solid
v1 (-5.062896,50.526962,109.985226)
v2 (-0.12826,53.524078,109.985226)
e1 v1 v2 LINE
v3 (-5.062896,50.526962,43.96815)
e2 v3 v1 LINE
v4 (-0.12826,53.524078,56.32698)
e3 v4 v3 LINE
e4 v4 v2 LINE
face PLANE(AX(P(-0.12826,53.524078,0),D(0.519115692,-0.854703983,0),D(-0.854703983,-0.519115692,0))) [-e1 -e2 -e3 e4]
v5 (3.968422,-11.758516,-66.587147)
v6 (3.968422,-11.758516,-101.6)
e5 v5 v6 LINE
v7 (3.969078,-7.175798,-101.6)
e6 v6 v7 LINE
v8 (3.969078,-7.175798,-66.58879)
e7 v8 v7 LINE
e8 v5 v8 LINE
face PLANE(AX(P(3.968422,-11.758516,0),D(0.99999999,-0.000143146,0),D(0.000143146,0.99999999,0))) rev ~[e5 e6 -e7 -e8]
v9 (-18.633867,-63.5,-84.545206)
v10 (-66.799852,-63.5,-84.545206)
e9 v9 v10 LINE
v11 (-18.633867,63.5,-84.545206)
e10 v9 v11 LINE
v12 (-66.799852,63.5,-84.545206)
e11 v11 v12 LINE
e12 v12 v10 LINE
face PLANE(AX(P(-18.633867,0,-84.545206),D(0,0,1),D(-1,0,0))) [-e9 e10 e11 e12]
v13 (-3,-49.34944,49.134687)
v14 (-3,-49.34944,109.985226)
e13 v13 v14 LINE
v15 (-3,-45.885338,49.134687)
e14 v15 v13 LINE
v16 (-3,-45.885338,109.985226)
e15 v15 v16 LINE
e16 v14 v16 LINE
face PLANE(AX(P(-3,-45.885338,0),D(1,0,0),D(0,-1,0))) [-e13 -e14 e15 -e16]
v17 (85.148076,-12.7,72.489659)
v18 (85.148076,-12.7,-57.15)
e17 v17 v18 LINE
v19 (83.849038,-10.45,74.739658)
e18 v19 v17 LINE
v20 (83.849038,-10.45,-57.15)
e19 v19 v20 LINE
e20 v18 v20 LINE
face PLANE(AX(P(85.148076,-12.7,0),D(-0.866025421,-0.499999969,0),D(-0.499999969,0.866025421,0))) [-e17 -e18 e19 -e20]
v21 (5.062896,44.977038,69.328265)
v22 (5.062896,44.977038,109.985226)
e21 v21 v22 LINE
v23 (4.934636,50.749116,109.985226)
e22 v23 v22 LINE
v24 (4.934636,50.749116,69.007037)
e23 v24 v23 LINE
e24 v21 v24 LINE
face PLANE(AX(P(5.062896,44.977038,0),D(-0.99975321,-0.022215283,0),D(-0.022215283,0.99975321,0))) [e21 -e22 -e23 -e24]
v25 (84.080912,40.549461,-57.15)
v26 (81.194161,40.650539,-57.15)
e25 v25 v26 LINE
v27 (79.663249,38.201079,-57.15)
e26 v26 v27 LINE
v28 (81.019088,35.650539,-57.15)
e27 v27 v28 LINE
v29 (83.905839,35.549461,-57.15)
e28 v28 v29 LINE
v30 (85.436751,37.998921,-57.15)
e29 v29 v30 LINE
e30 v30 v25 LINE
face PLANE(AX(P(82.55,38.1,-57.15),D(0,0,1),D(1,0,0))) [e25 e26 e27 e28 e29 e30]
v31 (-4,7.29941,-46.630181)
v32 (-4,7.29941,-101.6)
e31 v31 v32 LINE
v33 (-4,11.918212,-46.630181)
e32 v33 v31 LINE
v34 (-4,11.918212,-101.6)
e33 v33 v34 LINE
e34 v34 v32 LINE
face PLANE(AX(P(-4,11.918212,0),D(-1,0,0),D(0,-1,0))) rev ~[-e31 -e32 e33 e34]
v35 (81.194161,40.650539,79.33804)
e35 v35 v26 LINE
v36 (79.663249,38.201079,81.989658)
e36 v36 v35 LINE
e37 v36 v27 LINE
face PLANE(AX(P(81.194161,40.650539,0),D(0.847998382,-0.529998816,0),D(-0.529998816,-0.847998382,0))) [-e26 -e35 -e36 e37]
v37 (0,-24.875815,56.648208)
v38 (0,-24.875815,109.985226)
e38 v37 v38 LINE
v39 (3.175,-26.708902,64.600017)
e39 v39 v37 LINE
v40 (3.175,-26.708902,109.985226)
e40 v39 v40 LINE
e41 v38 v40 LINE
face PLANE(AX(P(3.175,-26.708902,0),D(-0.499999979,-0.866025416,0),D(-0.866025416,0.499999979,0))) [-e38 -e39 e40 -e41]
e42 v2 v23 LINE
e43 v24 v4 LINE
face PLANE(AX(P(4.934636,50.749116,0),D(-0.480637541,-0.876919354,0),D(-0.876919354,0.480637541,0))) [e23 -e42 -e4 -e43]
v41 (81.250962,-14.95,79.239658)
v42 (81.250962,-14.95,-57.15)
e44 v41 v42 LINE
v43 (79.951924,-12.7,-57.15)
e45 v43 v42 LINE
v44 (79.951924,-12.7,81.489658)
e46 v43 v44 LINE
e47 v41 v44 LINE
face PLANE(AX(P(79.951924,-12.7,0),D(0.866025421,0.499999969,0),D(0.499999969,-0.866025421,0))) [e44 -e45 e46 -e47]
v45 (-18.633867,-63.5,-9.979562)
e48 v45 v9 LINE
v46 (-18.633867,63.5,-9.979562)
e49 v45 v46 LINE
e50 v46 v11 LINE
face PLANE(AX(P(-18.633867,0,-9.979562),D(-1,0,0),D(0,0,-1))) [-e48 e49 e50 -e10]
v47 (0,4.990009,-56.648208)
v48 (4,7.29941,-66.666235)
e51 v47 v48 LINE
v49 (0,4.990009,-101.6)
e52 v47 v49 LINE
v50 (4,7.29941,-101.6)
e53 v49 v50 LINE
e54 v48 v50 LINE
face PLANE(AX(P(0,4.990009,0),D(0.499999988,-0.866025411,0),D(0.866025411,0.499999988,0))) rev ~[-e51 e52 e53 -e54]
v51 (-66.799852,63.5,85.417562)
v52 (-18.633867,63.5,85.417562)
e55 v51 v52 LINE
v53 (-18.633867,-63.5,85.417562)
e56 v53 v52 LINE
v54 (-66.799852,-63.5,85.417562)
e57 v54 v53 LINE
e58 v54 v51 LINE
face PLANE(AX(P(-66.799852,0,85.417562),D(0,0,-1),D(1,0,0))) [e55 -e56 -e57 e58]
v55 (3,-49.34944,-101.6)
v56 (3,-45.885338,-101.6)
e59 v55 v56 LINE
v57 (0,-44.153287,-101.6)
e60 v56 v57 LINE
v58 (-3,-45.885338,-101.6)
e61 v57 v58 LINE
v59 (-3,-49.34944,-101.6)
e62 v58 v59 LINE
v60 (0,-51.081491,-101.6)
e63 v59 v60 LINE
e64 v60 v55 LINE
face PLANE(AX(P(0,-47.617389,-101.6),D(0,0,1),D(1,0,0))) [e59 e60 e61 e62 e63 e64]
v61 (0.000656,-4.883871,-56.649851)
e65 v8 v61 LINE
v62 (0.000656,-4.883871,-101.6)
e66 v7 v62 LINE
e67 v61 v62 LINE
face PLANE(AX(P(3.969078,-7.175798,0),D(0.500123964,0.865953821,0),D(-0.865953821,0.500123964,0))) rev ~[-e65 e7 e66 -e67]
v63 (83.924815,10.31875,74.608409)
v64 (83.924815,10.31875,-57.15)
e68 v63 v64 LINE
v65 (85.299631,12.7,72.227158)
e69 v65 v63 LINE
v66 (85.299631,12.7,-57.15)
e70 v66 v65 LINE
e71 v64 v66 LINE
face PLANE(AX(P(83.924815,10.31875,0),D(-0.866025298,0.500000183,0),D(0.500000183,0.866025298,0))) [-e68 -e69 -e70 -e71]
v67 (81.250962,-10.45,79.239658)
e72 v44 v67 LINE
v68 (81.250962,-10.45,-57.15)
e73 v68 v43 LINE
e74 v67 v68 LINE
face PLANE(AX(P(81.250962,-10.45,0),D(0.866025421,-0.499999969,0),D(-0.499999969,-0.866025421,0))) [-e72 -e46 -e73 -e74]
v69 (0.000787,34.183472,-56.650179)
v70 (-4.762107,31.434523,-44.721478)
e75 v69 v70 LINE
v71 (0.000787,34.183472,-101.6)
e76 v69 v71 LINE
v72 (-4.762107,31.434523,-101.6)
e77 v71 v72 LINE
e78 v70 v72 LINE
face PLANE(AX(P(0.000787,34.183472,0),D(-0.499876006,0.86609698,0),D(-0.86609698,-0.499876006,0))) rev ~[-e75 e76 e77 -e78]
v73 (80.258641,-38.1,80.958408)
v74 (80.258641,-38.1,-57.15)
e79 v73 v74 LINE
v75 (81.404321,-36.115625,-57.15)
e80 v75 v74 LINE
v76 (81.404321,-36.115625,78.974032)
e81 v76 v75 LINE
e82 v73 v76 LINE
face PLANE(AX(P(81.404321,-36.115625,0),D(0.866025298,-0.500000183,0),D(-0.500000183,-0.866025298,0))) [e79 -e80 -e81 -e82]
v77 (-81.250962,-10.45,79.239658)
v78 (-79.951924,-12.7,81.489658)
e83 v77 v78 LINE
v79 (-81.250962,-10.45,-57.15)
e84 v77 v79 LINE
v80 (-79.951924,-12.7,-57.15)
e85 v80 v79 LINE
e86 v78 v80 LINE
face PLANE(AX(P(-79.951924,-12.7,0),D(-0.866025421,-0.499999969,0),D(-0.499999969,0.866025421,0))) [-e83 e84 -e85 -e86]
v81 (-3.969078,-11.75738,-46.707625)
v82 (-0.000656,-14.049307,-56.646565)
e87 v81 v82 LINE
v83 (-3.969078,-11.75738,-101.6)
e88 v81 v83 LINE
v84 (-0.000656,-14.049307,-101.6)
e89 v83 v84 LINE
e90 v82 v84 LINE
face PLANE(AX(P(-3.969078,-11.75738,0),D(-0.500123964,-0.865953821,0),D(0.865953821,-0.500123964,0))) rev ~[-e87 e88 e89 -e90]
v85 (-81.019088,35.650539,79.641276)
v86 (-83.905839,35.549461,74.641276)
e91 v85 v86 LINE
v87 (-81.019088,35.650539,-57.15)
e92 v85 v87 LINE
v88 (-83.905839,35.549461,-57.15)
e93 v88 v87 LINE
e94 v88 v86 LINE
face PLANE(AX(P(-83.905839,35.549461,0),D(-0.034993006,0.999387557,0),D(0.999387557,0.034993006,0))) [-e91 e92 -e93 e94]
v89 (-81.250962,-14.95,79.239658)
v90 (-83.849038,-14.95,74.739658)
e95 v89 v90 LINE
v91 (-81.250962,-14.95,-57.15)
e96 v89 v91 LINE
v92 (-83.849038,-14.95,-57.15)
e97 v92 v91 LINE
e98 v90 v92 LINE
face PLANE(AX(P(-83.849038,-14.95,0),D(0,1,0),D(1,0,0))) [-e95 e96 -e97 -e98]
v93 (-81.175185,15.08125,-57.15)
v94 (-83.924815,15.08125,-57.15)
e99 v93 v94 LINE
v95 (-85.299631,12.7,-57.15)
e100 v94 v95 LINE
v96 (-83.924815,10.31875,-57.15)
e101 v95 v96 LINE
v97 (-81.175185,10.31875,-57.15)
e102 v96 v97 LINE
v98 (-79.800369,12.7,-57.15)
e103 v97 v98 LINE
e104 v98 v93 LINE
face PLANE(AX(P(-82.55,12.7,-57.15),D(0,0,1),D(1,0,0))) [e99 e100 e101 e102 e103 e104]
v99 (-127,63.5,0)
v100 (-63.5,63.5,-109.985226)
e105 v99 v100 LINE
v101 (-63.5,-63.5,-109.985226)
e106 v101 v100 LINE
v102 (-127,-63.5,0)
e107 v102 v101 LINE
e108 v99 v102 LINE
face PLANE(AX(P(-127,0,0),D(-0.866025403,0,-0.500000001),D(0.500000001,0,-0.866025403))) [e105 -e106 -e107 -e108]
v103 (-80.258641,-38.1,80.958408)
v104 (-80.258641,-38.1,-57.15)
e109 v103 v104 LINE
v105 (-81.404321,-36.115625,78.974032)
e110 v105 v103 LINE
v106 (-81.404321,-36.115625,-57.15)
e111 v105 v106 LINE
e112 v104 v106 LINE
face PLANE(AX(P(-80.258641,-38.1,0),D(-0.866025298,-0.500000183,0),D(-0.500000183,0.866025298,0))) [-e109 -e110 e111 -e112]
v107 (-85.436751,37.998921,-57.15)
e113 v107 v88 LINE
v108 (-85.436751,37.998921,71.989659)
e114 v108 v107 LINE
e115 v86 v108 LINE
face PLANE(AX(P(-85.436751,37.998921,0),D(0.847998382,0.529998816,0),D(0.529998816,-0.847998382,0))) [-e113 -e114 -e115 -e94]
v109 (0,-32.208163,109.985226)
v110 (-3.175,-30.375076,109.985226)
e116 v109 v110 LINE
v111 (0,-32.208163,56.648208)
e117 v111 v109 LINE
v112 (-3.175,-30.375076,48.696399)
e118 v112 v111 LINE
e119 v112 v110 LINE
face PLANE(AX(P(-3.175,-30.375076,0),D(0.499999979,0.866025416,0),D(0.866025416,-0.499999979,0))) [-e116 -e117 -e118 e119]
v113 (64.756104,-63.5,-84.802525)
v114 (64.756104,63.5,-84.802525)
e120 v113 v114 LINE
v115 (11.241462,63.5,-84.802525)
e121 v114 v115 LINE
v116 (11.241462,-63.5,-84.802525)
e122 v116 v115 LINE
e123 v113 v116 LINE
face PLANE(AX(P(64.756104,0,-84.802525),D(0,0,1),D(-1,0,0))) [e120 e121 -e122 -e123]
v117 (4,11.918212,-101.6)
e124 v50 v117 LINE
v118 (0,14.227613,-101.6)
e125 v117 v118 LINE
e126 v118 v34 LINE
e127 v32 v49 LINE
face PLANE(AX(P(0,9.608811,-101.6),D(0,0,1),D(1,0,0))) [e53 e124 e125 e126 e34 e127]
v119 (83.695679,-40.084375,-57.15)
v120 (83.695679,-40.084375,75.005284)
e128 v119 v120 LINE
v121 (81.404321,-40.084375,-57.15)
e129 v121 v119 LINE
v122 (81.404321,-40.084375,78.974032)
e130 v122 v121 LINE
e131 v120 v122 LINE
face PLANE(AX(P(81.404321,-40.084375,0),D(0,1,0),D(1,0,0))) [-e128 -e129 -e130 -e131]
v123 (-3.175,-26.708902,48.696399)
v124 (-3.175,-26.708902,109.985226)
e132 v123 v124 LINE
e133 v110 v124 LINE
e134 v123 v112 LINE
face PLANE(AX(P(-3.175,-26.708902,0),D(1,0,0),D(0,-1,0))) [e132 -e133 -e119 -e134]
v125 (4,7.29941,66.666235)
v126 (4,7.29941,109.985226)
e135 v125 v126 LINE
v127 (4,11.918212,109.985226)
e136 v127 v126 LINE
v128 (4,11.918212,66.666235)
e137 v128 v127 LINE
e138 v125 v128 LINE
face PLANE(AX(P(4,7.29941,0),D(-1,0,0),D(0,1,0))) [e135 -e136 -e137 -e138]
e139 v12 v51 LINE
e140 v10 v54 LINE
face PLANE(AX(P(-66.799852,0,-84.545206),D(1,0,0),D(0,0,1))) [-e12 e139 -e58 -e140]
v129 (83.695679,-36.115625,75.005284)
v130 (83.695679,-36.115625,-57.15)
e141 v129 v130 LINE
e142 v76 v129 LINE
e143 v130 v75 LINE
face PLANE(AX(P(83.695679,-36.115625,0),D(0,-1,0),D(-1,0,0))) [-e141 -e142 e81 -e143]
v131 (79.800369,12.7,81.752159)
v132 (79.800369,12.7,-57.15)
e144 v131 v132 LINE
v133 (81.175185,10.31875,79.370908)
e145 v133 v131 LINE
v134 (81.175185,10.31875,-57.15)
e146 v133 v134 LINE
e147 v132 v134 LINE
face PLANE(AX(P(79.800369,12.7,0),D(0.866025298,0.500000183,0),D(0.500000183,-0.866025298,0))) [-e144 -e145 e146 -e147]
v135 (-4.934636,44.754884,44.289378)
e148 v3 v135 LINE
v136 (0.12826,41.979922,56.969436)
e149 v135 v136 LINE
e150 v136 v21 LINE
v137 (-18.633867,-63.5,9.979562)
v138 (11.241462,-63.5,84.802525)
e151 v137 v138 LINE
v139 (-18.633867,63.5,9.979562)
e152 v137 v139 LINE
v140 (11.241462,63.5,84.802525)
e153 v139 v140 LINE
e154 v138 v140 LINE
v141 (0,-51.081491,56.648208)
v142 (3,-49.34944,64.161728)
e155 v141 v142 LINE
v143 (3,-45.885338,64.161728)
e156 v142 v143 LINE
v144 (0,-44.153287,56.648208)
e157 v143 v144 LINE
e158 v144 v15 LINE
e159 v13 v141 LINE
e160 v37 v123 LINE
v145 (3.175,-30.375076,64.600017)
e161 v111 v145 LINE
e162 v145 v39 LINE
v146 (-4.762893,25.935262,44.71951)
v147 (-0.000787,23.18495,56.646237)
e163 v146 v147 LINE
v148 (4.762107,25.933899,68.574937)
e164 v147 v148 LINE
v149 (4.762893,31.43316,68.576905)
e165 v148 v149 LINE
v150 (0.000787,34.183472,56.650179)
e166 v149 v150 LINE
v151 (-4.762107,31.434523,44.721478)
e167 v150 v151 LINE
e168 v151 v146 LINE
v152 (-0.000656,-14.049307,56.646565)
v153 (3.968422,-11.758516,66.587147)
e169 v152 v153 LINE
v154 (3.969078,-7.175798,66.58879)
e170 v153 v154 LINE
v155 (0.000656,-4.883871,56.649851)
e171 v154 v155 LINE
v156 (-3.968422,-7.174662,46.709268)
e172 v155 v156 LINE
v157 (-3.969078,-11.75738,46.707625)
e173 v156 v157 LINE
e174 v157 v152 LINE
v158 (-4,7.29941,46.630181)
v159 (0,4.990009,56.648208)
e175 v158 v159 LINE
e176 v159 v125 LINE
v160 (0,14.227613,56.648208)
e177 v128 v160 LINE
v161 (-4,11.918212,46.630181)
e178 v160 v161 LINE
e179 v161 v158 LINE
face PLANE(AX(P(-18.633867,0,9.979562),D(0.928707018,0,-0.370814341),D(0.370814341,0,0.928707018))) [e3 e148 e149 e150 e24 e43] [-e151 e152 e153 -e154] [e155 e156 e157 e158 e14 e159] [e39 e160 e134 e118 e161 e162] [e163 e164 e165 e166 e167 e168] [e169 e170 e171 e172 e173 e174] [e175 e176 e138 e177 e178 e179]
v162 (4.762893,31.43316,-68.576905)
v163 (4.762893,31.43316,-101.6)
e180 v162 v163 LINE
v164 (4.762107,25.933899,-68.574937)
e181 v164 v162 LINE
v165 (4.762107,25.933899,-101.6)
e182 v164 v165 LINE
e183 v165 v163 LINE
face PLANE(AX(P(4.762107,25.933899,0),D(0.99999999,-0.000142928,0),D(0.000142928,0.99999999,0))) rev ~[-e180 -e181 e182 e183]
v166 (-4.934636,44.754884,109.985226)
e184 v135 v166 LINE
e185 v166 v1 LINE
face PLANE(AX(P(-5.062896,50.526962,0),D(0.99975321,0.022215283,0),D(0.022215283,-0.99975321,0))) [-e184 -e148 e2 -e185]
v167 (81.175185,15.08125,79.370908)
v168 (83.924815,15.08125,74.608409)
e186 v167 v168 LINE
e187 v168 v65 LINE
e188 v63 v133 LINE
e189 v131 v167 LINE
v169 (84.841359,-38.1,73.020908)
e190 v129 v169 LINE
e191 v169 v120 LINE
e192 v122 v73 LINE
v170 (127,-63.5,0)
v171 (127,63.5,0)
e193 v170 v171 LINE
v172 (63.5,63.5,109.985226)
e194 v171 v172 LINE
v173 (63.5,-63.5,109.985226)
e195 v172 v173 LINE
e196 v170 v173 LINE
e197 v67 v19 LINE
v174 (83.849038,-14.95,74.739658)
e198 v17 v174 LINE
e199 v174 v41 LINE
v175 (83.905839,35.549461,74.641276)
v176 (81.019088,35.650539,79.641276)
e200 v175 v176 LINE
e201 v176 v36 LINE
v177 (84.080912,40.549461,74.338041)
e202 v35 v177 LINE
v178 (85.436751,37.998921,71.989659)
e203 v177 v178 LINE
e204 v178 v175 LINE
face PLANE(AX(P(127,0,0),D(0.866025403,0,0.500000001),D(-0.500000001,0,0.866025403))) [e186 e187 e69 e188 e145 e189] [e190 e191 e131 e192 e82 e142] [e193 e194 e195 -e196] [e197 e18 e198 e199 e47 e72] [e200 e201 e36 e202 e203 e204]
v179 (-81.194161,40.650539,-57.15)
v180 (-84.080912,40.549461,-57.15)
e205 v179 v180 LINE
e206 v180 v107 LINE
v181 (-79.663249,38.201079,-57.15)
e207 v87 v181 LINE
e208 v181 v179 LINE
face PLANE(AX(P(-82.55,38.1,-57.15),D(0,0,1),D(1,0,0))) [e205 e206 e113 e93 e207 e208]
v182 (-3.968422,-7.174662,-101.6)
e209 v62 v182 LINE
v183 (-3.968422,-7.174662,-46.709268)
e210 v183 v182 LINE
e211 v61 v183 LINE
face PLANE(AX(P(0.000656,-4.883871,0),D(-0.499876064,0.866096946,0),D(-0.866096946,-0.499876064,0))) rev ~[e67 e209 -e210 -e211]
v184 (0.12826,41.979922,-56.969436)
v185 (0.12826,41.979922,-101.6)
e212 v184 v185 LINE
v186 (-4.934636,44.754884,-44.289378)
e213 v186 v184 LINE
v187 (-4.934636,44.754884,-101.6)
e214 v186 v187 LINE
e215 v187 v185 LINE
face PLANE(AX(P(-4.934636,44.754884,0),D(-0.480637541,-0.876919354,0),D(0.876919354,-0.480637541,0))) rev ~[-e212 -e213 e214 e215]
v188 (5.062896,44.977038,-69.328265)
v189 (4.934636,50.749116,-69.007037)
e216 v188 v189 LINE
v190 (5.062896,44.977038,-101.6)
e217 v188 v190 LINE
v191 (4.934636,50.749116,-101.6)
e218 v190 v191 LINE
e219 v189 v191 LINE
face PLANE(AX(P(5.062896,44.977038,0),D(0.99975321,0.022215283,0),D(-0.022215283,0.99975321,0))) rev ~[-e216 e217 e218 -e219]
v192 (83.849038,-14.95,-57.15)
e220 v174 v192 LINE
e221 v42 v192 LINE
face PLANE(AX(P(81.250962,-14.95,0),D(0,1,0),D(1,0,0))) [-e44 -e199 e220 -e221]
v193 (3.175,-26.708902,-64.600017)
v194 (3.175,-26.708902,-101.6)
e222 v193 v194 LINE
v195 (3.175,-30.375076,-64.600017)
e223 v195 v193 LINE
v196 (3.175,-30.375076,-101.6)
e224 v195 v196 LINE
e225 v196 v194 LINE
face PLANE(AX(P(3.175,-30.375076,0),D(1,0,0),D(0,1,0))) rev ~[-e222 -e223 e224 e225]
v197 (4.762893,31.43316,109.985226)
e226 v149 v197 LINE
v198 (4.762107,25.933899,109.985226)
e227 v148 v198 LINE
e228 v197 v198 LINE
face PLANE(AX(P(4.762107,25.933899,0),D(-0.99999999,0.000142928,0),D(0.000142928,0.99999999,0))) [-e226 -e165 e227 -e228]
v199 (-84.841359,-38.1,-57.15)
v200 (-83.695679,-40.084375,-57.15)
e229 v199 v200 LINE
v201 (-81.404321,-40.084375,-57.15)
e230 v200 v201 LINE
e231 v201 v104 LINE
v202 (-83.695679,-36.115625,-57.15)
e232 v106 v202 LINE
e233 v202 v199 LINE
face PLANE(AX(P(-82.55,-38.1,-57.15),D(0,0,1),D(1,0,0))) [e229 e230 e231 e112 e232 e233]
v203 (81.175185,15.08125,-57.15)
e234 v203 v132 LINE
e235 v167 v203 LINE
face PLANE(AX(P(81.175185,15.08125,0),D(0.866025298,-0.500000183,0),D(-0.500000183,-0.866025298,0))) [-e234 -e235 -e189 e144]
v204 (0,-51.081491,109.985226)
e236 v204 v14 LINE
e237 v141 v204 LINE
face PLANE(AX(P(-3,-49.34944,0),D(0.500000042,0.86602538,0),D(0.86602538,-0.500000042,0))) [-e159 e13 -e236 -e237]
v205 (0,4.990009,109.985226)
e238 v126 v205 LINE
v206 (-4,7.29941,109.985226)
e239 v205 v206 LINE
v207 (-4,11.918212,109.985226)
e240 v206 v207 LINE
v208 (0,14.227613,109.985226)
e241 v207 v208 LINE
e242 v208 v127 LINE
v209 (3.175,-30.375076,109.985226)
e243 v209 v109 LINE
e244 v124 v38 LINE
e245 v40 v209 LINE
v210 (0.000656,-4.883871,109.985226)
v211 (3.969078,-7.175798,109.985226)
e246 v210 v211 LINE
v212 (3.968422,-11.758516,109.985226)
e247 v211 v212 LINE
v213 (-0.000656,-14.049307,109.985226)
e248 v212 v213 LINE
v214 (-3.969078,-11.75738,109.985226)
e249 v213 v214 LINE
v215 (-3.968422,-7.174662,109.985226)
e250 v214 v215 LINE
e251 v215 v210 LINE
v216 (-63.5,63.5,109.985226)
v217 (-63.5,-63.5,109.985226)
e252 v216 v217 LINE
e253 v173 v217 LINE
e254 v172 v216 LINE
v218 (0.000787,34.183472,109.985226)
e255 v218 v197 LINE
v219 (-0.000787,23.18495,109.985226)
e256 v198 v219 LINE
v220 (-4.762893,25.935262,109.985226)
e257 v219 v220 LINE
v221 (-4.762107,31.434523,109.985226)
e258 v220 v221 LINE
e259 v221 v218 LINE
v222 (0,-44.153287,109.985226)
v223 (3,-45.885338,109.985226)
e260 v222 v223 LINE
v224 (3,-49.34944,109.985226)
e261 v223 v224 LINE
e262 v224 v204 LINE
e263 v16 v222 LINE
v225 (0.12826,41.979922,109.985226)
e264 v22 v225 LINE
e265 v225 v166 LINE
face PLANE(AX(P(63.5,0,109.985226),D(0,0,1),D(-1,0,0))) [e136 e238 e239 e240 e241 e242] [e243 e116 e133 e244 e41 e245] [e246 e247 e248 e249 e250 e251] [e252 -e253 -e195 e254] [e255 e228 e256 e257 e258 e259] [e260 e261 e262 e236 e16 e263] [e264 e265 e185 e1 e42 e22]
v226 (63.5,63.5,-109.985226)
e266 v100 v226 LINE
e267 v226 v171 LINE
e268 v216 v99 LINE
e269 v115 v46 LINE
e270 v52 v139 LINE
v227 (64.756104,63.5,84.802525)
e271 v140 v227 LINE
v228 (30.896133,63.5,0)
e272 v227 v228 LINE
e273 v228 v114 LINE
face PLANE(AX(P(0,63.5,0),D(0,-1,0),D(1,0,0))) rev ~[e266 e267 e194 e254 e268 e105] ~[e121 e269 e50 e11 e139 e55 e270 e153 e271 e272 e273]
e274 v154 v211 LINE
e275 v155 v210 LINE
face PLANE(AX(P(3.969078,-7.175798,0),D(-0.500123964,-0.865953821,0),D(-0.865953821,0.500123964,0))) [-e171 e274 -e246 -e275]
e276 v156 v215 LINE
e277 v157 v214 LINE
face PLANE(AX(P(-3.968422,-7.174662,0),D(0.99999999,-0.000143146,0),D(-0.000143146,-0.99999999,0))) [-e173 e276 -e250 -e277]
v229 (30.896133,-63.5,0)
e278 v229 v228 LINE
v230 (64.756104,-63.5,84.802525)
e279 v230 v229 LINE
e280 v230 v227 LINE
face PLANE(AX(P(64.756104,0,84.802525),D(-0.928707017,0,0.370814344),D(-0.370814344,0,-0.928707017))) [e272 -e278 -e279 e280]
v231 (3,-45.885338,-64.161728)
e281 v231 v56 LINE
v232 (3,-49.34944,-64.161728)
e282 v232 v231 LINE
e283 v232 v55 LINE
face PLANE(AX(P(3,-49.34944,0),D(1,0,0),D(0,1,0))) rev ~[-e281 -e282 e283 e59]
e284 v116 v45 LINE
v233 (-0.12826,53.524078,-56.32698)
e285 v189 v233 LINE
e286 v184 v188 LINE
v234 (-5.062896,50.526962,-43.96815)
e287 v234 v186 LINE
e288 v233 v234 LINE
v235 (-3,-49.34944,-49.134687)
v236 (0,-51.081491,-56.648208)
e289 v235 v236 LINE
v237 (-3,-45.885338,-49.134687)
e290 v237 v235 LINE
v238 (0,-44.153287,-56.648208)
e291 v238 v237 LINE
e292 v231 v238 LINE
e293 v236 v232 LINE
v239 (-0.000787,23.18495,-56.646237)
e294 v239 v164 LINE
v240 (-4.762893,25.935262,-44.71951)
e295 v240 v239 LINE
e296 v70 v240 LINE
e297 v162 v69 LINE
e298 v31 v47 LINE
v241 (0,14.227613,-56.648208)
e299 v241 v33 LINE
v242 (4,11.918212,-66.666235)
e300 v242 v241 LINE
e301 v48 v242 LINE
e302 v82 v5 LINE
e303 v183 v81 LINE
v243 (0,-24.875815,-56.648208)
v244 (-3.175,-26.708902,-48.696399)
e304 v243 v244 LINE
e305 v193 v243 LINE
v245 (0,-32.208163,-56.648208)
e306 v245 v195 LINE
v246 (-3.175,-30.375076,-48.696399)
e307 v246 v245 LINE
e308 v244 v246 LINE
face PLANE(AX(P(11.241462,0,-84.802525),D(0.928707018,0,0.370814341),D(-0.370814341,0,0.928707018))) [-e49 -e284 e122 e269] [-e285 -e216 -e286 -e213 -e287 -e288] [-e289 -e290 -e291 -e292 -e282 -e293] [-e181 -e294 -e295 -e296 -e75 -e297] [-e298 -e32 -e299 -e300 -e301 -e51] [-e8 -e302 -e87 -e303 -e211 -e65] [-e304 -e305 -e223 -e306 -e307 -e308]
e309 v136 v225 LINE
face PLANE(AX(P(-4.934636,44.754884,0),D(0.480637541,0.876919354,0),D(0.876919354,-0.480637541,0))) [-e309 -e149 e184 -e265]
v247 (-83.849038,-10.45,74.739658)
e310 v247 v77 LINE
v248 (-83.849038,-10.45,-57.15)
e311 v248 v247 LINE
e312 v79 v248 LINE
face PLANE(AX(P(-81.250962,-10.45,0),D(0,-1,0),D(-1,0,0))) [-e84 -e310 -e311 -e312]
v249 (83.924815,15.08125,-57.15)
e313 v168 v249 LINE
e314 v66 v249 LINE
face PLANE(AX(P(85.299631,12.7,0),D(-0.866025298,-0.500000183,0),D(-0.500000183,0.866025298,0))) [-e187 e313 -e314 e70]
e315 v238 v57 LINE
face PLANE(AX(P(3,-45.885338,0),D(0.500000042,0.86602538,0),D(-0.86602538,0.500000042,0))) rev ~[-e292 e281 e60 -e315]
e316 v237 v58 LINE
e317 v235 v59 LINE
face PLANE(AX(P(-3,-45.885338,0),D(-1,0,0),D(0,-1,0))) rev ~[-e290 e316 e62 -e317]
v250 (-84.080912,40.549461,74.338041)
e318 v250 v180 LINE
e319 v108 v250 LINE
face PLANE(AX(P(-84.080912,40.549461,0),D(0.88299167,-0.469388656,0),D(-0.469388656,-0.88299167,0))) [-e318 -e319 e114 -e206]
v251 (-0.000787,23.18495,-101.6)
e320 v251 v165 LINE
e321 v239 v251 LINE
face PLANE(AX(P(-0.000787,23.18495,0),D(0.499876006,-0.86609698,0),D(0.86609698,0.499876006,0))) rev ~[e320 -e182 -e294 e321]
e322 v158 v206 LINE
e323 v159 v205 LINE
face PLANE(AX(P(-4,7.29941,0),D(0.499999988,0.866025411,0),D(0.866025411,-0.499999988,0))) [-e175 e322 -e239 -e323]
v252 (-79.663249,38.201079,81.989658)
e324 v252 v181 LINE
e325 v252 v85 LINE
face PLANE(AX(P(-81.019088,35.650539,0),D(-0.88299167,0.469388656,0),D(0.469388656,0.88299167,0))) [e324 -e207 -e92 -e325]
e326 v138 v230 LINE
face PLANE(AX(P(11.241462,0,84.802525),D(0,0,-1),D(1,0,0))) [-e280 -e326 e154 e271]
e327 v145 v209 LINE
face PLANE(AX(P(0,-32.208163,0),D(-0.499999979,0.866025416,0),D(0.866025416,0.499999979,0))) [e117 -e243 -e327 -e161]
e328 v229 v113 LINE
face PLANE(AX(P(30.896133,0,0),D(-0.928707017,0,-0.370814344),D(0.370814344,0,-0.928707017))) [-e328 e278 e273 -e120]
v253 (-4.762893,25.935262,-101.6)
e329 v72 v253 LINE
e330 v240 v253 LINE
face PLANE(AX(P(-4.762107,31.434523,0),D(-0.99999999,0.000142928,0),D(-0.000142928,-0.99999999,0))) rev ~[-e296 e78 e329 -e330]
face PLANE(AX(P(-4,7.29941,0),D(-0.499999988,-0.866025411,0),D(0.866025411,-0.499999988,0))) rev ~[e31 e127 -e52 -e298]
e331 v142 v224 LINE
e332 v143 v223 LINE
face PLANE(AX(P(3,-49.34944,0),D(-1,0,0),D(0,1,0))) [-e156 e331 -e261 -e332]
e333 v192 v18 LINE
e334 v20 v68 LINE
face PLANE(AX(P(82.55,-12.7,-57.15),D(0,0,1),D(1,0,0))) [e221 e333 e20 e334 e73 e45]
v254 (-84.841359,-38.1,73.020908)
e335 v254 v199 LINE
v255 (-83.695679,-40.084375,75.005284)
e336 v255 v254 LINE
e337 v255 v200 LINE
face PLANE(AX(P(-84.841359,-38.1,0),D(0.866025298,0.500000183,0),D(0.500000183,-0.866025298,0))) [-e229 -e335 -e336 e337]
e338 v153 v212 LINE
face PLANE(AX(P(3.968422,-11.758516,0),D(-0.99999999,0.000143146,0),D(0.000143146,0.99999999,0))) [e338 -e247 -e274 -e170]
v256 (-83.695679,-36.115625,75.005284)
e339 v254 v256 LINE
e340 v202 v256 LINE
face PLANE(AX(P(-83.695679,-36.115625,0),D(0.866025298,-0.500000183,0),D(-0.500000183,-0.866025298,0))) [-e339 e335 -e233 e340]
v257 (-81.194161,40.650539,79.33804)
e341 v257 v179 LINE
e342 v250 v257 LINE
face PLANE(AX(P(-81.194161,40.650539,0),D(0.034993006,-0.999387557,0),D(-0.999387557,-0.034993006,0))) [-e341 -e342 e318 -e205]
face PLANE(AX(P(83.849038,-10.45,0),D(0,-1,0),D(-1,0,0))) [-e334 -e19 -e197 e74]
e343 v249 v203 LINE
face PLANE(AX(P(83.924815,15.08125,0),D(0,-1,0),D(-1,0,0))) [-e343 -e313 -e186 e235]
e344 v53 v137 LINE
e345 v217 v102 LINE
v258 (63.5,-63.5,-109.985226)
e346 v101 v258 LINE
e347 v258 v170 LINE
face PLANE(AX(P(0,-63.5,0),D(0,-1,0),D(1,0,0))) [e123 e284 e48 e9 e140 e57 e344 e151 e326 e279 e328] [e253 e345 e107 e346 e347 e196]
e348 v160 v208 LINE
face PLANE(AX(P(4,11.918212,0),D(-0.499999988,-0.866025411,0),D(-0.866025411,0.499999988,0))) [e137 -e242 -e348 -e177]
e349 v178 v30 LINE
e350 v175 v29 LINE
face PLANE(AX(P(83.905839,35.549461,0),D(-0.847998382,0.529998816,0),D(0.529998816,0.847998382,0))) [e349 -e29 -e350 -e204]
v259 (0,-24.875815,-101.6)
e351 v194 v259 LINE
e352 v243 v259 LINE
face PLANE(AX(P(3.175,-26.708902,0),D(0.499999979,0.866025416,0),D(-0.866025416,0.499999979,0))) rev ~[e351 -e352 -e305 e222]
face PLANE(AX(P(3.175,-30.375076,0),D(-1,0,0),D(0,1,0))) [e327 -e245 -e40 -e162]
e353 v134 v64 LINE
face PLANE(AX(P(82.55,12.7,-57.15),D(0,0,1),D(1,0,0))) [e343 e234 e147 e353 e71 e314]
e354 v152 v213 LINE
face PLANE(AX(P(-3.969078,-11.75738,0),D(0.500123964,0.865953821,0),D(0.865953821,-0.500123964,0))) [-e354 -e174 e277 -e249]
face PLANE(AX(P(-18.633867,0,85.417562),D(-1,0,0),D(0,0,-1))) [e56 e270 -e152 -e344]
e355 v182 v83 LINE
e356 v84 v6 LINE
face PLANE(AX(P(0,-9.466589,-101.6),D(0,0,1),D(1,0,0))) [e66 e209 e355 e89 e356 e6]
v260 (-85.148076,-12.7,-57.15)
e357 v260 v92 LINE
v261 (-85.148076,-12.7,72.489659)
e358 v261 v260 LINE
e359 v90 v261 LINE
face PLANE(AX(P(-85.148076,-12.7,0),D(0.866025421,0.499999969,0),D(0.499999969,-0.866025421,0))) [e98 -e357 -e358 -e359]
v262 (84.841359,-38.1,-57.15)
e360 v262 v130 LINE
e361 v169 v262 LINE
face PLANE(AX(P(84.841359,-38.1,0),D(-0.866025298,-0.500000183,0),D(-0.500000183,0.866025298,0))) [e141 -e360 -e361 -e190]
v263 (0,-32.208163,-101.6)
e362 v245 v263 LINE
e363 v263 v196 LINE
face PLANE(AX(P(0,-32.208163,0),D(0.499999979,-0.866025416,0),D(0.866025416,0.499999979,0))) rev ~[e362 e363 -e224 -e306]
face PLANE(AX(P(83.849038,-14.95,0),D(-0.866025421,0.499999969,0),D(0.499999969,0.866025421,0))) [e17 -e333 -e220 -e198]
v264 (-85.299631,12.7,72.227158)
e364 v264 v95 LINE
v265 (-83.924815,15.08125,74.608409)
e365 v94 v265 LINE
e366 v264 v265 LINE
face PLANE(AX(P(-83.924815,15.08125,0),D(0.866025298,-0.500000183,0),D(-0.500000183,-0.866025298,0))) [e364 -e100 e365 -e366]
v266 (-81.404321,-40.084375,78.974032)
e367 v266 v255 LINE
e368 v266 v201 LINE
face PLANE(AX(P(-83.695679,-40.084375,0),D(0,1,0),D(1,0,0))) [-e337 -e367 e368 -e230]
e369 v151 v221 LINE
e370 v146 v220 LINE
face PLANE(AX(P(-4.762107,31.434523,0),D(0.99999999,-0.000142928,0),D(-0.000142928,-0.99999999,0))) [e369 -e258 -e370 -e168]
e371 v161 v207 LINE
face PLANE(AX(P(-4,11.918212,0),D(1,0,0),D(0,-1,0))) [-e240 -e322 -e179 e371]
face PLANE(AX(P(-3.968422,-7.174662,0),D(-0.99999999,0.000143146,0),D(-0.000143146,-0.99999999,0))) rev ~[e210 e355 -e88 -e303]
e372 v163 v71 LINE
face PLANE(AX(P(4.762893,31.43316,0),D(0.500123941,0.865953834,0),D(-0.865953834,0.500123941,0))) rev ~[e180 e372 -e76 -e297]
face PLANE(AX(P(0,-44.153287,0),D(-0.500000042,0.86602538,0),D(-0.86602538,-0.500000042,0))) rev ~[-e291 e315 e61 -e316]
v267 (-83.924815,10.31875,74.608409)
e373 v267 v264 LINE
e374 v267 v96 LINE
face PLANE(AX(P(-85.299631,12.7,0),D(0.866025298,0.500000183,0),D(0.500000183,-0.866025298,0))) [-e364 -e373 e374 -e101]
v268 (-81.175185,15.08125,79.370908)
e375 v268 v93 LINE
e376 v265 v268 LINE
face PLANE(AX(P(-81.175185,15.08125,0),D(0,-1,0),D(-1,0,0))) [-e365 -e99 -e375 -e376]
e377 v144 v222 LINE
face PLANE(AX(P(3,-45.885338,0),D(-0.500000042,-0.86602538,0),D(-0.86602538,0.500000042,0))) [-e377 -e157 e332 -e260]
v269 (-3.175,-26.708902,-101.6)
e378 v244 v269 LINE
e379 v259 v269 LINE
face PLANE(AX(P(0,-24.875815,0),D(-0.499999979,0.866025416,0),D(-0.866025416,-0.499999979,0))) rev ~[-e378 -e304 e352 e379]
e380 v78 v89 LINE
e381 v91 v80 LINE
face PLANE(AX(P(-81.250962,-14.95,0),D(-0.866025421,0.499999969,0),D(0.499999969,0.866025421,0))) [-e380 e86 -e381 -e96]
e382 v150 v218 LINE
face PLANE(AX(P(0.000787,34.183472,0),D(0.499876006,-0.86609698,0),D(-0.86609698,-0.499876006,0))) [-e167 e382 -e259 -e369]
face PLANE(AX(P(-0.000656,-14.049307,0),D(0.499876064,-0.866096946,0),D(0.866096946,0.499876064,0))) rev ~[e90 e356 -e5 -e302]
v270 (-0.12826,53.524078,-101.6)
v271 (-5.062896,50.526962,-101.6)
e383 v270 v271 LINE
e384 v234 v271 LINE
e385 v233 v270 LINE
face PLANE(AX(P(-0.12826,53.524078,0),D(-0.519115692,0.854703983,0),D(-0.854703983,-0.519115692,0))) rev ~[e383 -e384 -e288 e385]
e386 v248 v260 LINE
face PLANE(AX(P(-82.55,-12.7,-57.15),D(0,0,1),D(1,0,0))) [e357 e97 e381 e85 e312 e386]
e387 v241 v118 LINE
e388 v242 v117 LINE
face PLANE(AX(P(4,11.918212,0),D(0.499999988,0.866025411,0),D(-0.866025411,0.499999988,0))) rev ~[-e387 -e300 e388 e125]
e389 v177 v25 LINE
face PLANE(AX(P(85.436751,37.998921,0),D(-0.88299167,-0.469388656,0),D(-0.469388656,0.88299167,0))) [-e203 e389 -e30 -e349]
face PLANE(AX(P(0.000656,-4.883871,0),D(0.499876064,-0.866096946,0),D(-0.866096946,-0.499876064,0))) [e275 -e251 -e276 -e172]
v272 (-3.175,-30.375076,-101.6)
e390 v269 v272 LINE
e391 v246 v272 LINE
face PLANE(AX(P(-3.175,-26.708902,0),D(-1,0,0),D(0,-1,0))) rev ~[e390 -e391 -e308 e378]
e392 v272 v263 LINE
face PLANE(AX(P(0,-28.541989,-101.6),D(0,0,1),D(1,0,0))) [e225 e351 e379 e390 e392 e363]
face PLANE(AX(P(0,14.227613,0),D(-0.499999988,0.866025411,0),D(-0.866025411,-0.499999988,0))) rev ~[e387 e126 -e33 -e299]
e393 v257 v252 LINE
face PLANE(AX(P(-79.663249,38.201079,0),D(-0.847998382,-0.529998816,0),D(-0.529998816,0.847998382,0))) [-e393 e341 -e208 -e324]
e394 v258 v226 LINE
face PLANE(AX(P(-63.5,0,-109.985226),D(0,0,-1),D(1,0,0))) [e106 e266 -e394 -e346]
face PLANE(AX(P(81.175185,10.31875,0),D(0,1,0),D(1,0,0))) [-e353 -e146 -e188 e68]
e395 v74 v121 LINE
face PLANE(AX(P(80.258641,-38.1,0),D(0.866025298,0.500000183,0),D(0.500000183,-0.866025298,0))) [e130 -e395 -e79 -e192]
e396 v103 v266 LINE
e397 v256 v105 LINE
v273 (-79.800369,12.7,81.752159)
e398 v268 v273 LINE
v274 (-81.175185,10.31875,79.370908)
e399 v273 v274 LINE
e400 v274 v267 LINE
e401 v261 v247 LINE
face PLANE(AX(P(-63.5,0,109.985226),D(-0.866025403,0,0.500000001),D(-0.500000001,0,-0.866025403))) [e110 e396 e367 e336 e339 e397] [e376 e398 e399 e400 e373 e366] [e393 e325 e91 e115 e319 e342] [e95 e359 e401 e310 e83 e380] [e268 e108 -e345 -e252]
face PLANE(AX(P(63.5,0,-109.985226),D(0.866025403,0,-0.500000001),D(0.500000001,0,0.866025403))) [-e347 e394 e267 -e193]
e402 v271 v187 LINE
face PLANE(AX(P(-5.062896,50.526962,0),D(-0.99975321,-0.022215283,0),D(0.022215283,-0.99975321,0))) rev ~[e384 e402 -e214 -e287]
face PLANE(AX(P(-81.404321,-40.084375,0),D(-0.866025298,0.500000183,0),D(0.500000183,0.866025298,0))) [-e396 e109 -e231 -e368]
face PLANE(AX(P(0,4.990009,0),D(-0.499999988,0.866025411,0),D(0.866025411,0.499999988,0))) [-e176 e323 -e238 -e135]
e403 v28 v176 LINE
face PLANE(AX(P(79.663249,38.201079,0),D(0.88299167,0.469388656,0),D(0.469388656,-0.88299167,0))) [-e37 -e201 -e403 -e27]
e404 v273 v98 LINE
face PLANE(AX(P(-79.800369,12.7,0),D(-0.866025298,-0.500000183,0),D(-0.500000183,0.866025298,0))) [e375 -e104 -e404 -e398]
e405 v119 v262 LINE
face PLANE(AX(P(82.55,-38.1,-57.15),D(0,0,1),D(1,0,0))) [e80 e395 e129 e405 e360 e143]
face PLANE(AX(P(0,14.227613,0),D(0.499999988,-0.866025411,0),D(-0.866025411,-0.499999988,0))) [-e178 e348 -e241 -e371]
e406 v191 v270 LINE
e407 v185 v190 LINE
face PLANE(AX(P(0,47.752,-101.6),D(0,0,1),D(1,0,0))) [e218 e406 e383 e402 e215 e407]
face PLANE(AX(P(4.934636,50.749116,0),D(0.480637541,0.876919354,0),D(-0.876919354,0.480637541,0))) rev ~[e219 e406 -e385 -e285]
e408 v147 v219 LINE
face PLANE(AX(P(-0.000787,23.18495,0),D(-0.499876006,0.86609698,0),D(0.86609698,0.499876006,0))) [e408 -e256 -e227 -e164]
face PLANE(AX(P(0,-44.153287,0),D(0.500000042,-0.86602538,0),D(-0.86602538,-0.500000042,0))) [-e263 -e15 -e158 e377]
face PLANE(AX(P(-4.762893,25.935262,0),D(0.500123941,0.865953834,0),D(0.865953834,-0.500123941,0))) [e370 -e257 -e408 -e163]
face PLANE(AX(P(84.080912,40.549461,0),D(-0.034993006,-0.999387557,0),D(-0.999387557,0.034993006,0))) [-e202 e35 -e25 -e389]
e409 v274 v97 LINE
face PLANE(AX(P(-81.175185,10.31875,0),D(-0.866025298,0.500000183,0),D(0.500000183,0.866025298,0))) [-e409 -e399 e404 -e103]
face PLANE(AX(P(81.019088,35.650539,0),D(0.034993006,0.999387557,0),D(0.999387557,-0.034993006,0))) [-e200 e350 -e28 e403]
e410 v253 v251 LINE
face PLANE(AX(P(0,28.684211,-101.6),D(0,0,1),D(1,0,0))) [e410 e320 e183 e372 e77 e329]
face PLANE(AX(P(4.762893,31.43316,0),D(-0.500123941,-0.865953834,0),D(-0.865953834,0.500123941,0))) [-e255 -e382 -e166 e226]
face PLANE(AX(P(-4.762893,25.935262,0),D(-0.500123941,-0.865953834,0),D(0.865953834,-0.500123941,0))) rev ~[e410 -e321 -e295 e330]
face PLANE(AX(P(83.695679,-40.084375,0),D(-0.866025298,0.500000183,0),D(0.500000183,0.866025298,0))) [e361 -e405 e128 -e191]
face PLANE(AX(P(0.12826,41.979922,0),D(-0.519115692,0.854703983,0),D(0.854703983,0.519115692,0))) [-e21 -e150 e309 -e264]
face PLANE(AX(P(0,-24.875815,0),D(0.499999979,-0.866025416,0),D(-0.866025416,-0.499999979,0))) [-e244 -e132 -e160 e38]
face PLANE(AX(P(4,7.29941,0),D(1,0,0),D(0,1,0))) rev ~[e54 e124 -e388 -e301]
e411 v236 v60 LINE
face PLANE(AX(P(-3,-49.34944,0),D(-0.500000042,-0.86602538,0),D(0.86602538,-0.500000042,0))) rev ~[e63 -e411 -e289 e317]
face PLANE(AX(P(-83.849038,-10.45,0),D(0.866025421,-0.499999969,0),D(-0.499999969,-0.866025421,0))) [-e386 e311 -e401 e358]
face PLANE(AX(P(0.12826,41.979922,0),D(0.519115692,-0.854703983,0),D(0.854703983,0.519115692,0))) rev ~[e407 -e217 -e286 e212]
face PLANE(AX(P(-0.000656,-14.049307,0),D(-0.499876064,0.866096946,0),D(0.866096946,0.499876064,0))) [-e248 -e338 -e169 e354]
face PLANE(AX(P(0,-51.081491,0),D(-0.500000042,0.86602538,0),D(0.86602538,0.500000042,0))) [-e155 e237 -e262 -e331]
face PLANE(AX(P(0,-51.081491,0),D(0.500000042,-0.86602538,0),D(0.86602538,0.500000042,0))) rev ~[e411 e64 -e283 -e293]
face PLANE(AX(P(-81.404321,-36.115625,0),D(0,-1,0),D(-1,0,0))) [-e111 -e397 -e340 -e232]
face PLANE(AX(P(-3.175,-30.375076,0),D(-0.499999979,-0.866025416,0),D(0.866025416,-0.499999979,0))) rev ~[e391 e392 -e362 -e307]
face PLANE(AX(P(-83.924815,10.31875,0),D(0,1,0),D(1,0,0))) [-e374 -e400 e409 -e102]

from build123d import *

# Parameters (mm, degrees)
F1_DEPTH = 63.5
F3_DEPTH = 57.15
F4_DEPTH = 127
F5_DEPTH = 101.6


with BuildPart() as f1:
    # F0 (on Front) → F1 (new body, symmetric)
    with BuildSketch(Plane.XZ):
        Polygon((127, 0), (63.5, 109.985226), (-63.5, 109.985226), (-127, 0), (-63.5, -109.985226), (63.5, -109.985226), align=None)
        Polygon((-66.799852, -84.545206), (-66.799852, 85.417562), (-18.633867, 85.417562), (-18.633867, 9.979562), (11.241462, 84.802525), (64.756104, 84.802525), (30.896133, 0), (64.756104, -84.802525), (11.241462, -84.802525), (-18.633867, -9.979562), (-18.633867, -84.545206), align=None, mode=Mode.SUBTRACT)
    extrude(amount=F1_DEPTH, both=True)

    # F2 (on Top) → F3 (cut)
    with BuildSketch(Plane.XY):
        Polygon((-81.175185, 15.08125), (-83.924815, 15.08125), (-85.299631, 12.7), (-83.924815, 10.31875), (-81.175185, 10.31875), (-79.800369, 12.7), align=None)
        Polygon((-81.250962, -10.45), (-83.849038, -10.45), (-85.148076, -12.7), (-83.849038, -14.95), (-81.250962, -14.95), (-79.951924, -12.7), align=None)
        Polygon((-81.404321, -36.115625), (-83.695679, -36.115625), (-84.841359, -38.1), (-83.695679, -40.084375), (-81.404321, -40.084375), (-80.258641, -38.1), align=None)
        Polygon((-85.436751, 37.998921), (-83.905839, 35.549461), (-81.019088, 35.650539), (-79.663249, 38.201079), (-81.194161, 40.650539), (-84.080912, 40.549461), align=None)
        Polygon((79.663249, 38.201079), (81.019088, 35.650539), (83.905839, 35.549461), (85.436751, 37.998921), (84.080912, 40.549461), (81.194161, 40.650539), align=None)
        Polygon((83.924815, 10.31875), (85.299631, 12.7), (83.924815, 15.08125), (81.175185, 15.08125), (79.800369, 12.7), (81.175185, 10.31875), align=None)
        Polygon((81.250962, -10.45), (79.951924, -12.7), (81.250962, -14.95), (83.849038, -14.95), (85.148076, -12.7), (83.849038, -10.45), align=None)
        Polygon((81.404321, -40.084375), (83.695679, -40.084375), (84.841359, -38.1), (83.695679, -36.115625), (81.404321, -36.115625), (80.258641, -38.1), align=None)
    extrude(amount=-F3_DEPTH, mode=Mode.SUBTRACT)

    # F2 (on Top) → F4 (cut)
    with BuildSketch(Plane.XY):
        Polygon((-85.436751, 37.998921), (-83.905839, 35.549461), (-81.019088, 35.650539), (-79.663249, 38.201079), (-81.194161, 40.650539), (-84.080912, 40.549461), align=None)
        Polygon((-81.175185, 15.08125), (-83.924815, 15.08125), (-85.299631, 12.7), (-83.924815, 10.31875), (-81.175185, 10.31875), (-79.800369, 12.7), align=None)
        Polygon((-81.250962, -10.45), (-83.849038, -10.45), (-85.148076, -12.7), (-83.849038, -14.95), (-81.250962, -14.95), (-79.951924, -12.7), align=None)
        Polygon((-81.404321, -36.115625), (-83.695679, -36.115625), (-84.841359, -38.1), (-83.695679, -40.084375), (-81.404321, -40.084375), (-80.258641, -38.1), align=None)
        Polygon((81.250962, -10.45), (79.951924, -12.7), (81.250962, -14.95), (83.849038, -14.95), (85.148076, -12.7), (83.849038, -10.45), align=None)
        Polygon((81.404321, -40.084375), (83.695679, -40.084375), (84.841359, -38.1), (83.695679, -36.115625), (81.404321, -36.115625), (80.258641, -38.1), align=None)
        Polygon((83.924815, 10.31875), (85.299631, 12.7), (83.924815, 15.08125), (81.175185, 15.08125), (79.800369, 12.7), (81.175185, 10.31875), align=None)
        Polygon((79.663249, 38.201079), (81.019088, 35.650539), (83.905839, 35.549461), (85.436751, 37.998921), (84.080912, 40.549461), (81.194161, 40.650539), align=None)
        Polygon((0.12826, 41.979922), (5.062896, 44.977038), (4.934636, 50.749116), (-0.12826, 53.524078), (-5.062896, 50.526962), (-4.934636, 44.754884), align=None)
        Polygon((-0.000787, 23.18495), (4.762107, 25.933899), (4.762893, 31.43316), (0.000787, 34.183472), (-4.762107, 31.434523), (-4.762893, 25.935262), align=None)
        Polygon((4, 7.29941), (4, 11.918212), (0, 14.227613), (-4, 11.918212), (-4, 7.29941), (0, 4.990009), align=None)
        Polygon((-0.000656, -14.049307), (3.968422, -11.758516), (3.969078, -7.175798), (0.000656, -4.883871), (-3.968422, -7.174662), (-3.969078, -11.75738), align=None)
        Polygon((3.175, -30.375076), (3.175, -26.708902), (0, -24.875815), (-3.175, -26.708902), (-3.175, -30.375076), (0, -32.208163), align=None)
        Polygon((3, -49.34944), (3, -45.885338), (0, -44.153287), (-3, -45.885338), (-3, -49.34944), (0, -51.081491), align=None)
    extrude(amount=F4_DEPTH, mode=Mode.SUBTRACT)

    # F2 (on Top) → F5 (cut)
    with BuildSketch(Plane.XY):
        Polygon((-0.000656, -14.049307), (3.968422, -11.758516), (3.969078, -7.175798), (0.000656, -4.883871), (-3.968422, -7.174662), (-3.969078, -11.75738), align=None)
        Polygon((3.175, -30.375076), (3.175, -26.708902), (0, -24.875815), (-3.175, -26.708902), (-3.175, -30.375076), (0, -32.208163), align=None)
        Polygon((4, 7.29941), (4, 11.918212), (0, 14.227613), (-4, 11.918212), (-4, 7.29941), (0, 4.990009), align=None)
        Polygon((-0.000787, 23.18495), (4.762107, 25.933899), (4.762893, 31.43316), (0.000787, 34.183472), (-4.762107, 31.434523), (-4.762893, 25.935262), align=None)
        Polygon((3, -49.34944), (3, -45.885338), (0, -44.153287), (-3, -45.885338), (-3, -49.34944), (0, -51.081491), align=None)
        Polygon((0.12826, 41.979922), (5.062896, 44.977038), (4.934636, 50.749116), (-0.12826, 53.524078), (-5.062896, 50.526962), (-4.934636, 44.754884), align=None)
    extrude(amount=-F5_DEPTH, mode=Mode.SUBTRACT)


solid = f1.part
